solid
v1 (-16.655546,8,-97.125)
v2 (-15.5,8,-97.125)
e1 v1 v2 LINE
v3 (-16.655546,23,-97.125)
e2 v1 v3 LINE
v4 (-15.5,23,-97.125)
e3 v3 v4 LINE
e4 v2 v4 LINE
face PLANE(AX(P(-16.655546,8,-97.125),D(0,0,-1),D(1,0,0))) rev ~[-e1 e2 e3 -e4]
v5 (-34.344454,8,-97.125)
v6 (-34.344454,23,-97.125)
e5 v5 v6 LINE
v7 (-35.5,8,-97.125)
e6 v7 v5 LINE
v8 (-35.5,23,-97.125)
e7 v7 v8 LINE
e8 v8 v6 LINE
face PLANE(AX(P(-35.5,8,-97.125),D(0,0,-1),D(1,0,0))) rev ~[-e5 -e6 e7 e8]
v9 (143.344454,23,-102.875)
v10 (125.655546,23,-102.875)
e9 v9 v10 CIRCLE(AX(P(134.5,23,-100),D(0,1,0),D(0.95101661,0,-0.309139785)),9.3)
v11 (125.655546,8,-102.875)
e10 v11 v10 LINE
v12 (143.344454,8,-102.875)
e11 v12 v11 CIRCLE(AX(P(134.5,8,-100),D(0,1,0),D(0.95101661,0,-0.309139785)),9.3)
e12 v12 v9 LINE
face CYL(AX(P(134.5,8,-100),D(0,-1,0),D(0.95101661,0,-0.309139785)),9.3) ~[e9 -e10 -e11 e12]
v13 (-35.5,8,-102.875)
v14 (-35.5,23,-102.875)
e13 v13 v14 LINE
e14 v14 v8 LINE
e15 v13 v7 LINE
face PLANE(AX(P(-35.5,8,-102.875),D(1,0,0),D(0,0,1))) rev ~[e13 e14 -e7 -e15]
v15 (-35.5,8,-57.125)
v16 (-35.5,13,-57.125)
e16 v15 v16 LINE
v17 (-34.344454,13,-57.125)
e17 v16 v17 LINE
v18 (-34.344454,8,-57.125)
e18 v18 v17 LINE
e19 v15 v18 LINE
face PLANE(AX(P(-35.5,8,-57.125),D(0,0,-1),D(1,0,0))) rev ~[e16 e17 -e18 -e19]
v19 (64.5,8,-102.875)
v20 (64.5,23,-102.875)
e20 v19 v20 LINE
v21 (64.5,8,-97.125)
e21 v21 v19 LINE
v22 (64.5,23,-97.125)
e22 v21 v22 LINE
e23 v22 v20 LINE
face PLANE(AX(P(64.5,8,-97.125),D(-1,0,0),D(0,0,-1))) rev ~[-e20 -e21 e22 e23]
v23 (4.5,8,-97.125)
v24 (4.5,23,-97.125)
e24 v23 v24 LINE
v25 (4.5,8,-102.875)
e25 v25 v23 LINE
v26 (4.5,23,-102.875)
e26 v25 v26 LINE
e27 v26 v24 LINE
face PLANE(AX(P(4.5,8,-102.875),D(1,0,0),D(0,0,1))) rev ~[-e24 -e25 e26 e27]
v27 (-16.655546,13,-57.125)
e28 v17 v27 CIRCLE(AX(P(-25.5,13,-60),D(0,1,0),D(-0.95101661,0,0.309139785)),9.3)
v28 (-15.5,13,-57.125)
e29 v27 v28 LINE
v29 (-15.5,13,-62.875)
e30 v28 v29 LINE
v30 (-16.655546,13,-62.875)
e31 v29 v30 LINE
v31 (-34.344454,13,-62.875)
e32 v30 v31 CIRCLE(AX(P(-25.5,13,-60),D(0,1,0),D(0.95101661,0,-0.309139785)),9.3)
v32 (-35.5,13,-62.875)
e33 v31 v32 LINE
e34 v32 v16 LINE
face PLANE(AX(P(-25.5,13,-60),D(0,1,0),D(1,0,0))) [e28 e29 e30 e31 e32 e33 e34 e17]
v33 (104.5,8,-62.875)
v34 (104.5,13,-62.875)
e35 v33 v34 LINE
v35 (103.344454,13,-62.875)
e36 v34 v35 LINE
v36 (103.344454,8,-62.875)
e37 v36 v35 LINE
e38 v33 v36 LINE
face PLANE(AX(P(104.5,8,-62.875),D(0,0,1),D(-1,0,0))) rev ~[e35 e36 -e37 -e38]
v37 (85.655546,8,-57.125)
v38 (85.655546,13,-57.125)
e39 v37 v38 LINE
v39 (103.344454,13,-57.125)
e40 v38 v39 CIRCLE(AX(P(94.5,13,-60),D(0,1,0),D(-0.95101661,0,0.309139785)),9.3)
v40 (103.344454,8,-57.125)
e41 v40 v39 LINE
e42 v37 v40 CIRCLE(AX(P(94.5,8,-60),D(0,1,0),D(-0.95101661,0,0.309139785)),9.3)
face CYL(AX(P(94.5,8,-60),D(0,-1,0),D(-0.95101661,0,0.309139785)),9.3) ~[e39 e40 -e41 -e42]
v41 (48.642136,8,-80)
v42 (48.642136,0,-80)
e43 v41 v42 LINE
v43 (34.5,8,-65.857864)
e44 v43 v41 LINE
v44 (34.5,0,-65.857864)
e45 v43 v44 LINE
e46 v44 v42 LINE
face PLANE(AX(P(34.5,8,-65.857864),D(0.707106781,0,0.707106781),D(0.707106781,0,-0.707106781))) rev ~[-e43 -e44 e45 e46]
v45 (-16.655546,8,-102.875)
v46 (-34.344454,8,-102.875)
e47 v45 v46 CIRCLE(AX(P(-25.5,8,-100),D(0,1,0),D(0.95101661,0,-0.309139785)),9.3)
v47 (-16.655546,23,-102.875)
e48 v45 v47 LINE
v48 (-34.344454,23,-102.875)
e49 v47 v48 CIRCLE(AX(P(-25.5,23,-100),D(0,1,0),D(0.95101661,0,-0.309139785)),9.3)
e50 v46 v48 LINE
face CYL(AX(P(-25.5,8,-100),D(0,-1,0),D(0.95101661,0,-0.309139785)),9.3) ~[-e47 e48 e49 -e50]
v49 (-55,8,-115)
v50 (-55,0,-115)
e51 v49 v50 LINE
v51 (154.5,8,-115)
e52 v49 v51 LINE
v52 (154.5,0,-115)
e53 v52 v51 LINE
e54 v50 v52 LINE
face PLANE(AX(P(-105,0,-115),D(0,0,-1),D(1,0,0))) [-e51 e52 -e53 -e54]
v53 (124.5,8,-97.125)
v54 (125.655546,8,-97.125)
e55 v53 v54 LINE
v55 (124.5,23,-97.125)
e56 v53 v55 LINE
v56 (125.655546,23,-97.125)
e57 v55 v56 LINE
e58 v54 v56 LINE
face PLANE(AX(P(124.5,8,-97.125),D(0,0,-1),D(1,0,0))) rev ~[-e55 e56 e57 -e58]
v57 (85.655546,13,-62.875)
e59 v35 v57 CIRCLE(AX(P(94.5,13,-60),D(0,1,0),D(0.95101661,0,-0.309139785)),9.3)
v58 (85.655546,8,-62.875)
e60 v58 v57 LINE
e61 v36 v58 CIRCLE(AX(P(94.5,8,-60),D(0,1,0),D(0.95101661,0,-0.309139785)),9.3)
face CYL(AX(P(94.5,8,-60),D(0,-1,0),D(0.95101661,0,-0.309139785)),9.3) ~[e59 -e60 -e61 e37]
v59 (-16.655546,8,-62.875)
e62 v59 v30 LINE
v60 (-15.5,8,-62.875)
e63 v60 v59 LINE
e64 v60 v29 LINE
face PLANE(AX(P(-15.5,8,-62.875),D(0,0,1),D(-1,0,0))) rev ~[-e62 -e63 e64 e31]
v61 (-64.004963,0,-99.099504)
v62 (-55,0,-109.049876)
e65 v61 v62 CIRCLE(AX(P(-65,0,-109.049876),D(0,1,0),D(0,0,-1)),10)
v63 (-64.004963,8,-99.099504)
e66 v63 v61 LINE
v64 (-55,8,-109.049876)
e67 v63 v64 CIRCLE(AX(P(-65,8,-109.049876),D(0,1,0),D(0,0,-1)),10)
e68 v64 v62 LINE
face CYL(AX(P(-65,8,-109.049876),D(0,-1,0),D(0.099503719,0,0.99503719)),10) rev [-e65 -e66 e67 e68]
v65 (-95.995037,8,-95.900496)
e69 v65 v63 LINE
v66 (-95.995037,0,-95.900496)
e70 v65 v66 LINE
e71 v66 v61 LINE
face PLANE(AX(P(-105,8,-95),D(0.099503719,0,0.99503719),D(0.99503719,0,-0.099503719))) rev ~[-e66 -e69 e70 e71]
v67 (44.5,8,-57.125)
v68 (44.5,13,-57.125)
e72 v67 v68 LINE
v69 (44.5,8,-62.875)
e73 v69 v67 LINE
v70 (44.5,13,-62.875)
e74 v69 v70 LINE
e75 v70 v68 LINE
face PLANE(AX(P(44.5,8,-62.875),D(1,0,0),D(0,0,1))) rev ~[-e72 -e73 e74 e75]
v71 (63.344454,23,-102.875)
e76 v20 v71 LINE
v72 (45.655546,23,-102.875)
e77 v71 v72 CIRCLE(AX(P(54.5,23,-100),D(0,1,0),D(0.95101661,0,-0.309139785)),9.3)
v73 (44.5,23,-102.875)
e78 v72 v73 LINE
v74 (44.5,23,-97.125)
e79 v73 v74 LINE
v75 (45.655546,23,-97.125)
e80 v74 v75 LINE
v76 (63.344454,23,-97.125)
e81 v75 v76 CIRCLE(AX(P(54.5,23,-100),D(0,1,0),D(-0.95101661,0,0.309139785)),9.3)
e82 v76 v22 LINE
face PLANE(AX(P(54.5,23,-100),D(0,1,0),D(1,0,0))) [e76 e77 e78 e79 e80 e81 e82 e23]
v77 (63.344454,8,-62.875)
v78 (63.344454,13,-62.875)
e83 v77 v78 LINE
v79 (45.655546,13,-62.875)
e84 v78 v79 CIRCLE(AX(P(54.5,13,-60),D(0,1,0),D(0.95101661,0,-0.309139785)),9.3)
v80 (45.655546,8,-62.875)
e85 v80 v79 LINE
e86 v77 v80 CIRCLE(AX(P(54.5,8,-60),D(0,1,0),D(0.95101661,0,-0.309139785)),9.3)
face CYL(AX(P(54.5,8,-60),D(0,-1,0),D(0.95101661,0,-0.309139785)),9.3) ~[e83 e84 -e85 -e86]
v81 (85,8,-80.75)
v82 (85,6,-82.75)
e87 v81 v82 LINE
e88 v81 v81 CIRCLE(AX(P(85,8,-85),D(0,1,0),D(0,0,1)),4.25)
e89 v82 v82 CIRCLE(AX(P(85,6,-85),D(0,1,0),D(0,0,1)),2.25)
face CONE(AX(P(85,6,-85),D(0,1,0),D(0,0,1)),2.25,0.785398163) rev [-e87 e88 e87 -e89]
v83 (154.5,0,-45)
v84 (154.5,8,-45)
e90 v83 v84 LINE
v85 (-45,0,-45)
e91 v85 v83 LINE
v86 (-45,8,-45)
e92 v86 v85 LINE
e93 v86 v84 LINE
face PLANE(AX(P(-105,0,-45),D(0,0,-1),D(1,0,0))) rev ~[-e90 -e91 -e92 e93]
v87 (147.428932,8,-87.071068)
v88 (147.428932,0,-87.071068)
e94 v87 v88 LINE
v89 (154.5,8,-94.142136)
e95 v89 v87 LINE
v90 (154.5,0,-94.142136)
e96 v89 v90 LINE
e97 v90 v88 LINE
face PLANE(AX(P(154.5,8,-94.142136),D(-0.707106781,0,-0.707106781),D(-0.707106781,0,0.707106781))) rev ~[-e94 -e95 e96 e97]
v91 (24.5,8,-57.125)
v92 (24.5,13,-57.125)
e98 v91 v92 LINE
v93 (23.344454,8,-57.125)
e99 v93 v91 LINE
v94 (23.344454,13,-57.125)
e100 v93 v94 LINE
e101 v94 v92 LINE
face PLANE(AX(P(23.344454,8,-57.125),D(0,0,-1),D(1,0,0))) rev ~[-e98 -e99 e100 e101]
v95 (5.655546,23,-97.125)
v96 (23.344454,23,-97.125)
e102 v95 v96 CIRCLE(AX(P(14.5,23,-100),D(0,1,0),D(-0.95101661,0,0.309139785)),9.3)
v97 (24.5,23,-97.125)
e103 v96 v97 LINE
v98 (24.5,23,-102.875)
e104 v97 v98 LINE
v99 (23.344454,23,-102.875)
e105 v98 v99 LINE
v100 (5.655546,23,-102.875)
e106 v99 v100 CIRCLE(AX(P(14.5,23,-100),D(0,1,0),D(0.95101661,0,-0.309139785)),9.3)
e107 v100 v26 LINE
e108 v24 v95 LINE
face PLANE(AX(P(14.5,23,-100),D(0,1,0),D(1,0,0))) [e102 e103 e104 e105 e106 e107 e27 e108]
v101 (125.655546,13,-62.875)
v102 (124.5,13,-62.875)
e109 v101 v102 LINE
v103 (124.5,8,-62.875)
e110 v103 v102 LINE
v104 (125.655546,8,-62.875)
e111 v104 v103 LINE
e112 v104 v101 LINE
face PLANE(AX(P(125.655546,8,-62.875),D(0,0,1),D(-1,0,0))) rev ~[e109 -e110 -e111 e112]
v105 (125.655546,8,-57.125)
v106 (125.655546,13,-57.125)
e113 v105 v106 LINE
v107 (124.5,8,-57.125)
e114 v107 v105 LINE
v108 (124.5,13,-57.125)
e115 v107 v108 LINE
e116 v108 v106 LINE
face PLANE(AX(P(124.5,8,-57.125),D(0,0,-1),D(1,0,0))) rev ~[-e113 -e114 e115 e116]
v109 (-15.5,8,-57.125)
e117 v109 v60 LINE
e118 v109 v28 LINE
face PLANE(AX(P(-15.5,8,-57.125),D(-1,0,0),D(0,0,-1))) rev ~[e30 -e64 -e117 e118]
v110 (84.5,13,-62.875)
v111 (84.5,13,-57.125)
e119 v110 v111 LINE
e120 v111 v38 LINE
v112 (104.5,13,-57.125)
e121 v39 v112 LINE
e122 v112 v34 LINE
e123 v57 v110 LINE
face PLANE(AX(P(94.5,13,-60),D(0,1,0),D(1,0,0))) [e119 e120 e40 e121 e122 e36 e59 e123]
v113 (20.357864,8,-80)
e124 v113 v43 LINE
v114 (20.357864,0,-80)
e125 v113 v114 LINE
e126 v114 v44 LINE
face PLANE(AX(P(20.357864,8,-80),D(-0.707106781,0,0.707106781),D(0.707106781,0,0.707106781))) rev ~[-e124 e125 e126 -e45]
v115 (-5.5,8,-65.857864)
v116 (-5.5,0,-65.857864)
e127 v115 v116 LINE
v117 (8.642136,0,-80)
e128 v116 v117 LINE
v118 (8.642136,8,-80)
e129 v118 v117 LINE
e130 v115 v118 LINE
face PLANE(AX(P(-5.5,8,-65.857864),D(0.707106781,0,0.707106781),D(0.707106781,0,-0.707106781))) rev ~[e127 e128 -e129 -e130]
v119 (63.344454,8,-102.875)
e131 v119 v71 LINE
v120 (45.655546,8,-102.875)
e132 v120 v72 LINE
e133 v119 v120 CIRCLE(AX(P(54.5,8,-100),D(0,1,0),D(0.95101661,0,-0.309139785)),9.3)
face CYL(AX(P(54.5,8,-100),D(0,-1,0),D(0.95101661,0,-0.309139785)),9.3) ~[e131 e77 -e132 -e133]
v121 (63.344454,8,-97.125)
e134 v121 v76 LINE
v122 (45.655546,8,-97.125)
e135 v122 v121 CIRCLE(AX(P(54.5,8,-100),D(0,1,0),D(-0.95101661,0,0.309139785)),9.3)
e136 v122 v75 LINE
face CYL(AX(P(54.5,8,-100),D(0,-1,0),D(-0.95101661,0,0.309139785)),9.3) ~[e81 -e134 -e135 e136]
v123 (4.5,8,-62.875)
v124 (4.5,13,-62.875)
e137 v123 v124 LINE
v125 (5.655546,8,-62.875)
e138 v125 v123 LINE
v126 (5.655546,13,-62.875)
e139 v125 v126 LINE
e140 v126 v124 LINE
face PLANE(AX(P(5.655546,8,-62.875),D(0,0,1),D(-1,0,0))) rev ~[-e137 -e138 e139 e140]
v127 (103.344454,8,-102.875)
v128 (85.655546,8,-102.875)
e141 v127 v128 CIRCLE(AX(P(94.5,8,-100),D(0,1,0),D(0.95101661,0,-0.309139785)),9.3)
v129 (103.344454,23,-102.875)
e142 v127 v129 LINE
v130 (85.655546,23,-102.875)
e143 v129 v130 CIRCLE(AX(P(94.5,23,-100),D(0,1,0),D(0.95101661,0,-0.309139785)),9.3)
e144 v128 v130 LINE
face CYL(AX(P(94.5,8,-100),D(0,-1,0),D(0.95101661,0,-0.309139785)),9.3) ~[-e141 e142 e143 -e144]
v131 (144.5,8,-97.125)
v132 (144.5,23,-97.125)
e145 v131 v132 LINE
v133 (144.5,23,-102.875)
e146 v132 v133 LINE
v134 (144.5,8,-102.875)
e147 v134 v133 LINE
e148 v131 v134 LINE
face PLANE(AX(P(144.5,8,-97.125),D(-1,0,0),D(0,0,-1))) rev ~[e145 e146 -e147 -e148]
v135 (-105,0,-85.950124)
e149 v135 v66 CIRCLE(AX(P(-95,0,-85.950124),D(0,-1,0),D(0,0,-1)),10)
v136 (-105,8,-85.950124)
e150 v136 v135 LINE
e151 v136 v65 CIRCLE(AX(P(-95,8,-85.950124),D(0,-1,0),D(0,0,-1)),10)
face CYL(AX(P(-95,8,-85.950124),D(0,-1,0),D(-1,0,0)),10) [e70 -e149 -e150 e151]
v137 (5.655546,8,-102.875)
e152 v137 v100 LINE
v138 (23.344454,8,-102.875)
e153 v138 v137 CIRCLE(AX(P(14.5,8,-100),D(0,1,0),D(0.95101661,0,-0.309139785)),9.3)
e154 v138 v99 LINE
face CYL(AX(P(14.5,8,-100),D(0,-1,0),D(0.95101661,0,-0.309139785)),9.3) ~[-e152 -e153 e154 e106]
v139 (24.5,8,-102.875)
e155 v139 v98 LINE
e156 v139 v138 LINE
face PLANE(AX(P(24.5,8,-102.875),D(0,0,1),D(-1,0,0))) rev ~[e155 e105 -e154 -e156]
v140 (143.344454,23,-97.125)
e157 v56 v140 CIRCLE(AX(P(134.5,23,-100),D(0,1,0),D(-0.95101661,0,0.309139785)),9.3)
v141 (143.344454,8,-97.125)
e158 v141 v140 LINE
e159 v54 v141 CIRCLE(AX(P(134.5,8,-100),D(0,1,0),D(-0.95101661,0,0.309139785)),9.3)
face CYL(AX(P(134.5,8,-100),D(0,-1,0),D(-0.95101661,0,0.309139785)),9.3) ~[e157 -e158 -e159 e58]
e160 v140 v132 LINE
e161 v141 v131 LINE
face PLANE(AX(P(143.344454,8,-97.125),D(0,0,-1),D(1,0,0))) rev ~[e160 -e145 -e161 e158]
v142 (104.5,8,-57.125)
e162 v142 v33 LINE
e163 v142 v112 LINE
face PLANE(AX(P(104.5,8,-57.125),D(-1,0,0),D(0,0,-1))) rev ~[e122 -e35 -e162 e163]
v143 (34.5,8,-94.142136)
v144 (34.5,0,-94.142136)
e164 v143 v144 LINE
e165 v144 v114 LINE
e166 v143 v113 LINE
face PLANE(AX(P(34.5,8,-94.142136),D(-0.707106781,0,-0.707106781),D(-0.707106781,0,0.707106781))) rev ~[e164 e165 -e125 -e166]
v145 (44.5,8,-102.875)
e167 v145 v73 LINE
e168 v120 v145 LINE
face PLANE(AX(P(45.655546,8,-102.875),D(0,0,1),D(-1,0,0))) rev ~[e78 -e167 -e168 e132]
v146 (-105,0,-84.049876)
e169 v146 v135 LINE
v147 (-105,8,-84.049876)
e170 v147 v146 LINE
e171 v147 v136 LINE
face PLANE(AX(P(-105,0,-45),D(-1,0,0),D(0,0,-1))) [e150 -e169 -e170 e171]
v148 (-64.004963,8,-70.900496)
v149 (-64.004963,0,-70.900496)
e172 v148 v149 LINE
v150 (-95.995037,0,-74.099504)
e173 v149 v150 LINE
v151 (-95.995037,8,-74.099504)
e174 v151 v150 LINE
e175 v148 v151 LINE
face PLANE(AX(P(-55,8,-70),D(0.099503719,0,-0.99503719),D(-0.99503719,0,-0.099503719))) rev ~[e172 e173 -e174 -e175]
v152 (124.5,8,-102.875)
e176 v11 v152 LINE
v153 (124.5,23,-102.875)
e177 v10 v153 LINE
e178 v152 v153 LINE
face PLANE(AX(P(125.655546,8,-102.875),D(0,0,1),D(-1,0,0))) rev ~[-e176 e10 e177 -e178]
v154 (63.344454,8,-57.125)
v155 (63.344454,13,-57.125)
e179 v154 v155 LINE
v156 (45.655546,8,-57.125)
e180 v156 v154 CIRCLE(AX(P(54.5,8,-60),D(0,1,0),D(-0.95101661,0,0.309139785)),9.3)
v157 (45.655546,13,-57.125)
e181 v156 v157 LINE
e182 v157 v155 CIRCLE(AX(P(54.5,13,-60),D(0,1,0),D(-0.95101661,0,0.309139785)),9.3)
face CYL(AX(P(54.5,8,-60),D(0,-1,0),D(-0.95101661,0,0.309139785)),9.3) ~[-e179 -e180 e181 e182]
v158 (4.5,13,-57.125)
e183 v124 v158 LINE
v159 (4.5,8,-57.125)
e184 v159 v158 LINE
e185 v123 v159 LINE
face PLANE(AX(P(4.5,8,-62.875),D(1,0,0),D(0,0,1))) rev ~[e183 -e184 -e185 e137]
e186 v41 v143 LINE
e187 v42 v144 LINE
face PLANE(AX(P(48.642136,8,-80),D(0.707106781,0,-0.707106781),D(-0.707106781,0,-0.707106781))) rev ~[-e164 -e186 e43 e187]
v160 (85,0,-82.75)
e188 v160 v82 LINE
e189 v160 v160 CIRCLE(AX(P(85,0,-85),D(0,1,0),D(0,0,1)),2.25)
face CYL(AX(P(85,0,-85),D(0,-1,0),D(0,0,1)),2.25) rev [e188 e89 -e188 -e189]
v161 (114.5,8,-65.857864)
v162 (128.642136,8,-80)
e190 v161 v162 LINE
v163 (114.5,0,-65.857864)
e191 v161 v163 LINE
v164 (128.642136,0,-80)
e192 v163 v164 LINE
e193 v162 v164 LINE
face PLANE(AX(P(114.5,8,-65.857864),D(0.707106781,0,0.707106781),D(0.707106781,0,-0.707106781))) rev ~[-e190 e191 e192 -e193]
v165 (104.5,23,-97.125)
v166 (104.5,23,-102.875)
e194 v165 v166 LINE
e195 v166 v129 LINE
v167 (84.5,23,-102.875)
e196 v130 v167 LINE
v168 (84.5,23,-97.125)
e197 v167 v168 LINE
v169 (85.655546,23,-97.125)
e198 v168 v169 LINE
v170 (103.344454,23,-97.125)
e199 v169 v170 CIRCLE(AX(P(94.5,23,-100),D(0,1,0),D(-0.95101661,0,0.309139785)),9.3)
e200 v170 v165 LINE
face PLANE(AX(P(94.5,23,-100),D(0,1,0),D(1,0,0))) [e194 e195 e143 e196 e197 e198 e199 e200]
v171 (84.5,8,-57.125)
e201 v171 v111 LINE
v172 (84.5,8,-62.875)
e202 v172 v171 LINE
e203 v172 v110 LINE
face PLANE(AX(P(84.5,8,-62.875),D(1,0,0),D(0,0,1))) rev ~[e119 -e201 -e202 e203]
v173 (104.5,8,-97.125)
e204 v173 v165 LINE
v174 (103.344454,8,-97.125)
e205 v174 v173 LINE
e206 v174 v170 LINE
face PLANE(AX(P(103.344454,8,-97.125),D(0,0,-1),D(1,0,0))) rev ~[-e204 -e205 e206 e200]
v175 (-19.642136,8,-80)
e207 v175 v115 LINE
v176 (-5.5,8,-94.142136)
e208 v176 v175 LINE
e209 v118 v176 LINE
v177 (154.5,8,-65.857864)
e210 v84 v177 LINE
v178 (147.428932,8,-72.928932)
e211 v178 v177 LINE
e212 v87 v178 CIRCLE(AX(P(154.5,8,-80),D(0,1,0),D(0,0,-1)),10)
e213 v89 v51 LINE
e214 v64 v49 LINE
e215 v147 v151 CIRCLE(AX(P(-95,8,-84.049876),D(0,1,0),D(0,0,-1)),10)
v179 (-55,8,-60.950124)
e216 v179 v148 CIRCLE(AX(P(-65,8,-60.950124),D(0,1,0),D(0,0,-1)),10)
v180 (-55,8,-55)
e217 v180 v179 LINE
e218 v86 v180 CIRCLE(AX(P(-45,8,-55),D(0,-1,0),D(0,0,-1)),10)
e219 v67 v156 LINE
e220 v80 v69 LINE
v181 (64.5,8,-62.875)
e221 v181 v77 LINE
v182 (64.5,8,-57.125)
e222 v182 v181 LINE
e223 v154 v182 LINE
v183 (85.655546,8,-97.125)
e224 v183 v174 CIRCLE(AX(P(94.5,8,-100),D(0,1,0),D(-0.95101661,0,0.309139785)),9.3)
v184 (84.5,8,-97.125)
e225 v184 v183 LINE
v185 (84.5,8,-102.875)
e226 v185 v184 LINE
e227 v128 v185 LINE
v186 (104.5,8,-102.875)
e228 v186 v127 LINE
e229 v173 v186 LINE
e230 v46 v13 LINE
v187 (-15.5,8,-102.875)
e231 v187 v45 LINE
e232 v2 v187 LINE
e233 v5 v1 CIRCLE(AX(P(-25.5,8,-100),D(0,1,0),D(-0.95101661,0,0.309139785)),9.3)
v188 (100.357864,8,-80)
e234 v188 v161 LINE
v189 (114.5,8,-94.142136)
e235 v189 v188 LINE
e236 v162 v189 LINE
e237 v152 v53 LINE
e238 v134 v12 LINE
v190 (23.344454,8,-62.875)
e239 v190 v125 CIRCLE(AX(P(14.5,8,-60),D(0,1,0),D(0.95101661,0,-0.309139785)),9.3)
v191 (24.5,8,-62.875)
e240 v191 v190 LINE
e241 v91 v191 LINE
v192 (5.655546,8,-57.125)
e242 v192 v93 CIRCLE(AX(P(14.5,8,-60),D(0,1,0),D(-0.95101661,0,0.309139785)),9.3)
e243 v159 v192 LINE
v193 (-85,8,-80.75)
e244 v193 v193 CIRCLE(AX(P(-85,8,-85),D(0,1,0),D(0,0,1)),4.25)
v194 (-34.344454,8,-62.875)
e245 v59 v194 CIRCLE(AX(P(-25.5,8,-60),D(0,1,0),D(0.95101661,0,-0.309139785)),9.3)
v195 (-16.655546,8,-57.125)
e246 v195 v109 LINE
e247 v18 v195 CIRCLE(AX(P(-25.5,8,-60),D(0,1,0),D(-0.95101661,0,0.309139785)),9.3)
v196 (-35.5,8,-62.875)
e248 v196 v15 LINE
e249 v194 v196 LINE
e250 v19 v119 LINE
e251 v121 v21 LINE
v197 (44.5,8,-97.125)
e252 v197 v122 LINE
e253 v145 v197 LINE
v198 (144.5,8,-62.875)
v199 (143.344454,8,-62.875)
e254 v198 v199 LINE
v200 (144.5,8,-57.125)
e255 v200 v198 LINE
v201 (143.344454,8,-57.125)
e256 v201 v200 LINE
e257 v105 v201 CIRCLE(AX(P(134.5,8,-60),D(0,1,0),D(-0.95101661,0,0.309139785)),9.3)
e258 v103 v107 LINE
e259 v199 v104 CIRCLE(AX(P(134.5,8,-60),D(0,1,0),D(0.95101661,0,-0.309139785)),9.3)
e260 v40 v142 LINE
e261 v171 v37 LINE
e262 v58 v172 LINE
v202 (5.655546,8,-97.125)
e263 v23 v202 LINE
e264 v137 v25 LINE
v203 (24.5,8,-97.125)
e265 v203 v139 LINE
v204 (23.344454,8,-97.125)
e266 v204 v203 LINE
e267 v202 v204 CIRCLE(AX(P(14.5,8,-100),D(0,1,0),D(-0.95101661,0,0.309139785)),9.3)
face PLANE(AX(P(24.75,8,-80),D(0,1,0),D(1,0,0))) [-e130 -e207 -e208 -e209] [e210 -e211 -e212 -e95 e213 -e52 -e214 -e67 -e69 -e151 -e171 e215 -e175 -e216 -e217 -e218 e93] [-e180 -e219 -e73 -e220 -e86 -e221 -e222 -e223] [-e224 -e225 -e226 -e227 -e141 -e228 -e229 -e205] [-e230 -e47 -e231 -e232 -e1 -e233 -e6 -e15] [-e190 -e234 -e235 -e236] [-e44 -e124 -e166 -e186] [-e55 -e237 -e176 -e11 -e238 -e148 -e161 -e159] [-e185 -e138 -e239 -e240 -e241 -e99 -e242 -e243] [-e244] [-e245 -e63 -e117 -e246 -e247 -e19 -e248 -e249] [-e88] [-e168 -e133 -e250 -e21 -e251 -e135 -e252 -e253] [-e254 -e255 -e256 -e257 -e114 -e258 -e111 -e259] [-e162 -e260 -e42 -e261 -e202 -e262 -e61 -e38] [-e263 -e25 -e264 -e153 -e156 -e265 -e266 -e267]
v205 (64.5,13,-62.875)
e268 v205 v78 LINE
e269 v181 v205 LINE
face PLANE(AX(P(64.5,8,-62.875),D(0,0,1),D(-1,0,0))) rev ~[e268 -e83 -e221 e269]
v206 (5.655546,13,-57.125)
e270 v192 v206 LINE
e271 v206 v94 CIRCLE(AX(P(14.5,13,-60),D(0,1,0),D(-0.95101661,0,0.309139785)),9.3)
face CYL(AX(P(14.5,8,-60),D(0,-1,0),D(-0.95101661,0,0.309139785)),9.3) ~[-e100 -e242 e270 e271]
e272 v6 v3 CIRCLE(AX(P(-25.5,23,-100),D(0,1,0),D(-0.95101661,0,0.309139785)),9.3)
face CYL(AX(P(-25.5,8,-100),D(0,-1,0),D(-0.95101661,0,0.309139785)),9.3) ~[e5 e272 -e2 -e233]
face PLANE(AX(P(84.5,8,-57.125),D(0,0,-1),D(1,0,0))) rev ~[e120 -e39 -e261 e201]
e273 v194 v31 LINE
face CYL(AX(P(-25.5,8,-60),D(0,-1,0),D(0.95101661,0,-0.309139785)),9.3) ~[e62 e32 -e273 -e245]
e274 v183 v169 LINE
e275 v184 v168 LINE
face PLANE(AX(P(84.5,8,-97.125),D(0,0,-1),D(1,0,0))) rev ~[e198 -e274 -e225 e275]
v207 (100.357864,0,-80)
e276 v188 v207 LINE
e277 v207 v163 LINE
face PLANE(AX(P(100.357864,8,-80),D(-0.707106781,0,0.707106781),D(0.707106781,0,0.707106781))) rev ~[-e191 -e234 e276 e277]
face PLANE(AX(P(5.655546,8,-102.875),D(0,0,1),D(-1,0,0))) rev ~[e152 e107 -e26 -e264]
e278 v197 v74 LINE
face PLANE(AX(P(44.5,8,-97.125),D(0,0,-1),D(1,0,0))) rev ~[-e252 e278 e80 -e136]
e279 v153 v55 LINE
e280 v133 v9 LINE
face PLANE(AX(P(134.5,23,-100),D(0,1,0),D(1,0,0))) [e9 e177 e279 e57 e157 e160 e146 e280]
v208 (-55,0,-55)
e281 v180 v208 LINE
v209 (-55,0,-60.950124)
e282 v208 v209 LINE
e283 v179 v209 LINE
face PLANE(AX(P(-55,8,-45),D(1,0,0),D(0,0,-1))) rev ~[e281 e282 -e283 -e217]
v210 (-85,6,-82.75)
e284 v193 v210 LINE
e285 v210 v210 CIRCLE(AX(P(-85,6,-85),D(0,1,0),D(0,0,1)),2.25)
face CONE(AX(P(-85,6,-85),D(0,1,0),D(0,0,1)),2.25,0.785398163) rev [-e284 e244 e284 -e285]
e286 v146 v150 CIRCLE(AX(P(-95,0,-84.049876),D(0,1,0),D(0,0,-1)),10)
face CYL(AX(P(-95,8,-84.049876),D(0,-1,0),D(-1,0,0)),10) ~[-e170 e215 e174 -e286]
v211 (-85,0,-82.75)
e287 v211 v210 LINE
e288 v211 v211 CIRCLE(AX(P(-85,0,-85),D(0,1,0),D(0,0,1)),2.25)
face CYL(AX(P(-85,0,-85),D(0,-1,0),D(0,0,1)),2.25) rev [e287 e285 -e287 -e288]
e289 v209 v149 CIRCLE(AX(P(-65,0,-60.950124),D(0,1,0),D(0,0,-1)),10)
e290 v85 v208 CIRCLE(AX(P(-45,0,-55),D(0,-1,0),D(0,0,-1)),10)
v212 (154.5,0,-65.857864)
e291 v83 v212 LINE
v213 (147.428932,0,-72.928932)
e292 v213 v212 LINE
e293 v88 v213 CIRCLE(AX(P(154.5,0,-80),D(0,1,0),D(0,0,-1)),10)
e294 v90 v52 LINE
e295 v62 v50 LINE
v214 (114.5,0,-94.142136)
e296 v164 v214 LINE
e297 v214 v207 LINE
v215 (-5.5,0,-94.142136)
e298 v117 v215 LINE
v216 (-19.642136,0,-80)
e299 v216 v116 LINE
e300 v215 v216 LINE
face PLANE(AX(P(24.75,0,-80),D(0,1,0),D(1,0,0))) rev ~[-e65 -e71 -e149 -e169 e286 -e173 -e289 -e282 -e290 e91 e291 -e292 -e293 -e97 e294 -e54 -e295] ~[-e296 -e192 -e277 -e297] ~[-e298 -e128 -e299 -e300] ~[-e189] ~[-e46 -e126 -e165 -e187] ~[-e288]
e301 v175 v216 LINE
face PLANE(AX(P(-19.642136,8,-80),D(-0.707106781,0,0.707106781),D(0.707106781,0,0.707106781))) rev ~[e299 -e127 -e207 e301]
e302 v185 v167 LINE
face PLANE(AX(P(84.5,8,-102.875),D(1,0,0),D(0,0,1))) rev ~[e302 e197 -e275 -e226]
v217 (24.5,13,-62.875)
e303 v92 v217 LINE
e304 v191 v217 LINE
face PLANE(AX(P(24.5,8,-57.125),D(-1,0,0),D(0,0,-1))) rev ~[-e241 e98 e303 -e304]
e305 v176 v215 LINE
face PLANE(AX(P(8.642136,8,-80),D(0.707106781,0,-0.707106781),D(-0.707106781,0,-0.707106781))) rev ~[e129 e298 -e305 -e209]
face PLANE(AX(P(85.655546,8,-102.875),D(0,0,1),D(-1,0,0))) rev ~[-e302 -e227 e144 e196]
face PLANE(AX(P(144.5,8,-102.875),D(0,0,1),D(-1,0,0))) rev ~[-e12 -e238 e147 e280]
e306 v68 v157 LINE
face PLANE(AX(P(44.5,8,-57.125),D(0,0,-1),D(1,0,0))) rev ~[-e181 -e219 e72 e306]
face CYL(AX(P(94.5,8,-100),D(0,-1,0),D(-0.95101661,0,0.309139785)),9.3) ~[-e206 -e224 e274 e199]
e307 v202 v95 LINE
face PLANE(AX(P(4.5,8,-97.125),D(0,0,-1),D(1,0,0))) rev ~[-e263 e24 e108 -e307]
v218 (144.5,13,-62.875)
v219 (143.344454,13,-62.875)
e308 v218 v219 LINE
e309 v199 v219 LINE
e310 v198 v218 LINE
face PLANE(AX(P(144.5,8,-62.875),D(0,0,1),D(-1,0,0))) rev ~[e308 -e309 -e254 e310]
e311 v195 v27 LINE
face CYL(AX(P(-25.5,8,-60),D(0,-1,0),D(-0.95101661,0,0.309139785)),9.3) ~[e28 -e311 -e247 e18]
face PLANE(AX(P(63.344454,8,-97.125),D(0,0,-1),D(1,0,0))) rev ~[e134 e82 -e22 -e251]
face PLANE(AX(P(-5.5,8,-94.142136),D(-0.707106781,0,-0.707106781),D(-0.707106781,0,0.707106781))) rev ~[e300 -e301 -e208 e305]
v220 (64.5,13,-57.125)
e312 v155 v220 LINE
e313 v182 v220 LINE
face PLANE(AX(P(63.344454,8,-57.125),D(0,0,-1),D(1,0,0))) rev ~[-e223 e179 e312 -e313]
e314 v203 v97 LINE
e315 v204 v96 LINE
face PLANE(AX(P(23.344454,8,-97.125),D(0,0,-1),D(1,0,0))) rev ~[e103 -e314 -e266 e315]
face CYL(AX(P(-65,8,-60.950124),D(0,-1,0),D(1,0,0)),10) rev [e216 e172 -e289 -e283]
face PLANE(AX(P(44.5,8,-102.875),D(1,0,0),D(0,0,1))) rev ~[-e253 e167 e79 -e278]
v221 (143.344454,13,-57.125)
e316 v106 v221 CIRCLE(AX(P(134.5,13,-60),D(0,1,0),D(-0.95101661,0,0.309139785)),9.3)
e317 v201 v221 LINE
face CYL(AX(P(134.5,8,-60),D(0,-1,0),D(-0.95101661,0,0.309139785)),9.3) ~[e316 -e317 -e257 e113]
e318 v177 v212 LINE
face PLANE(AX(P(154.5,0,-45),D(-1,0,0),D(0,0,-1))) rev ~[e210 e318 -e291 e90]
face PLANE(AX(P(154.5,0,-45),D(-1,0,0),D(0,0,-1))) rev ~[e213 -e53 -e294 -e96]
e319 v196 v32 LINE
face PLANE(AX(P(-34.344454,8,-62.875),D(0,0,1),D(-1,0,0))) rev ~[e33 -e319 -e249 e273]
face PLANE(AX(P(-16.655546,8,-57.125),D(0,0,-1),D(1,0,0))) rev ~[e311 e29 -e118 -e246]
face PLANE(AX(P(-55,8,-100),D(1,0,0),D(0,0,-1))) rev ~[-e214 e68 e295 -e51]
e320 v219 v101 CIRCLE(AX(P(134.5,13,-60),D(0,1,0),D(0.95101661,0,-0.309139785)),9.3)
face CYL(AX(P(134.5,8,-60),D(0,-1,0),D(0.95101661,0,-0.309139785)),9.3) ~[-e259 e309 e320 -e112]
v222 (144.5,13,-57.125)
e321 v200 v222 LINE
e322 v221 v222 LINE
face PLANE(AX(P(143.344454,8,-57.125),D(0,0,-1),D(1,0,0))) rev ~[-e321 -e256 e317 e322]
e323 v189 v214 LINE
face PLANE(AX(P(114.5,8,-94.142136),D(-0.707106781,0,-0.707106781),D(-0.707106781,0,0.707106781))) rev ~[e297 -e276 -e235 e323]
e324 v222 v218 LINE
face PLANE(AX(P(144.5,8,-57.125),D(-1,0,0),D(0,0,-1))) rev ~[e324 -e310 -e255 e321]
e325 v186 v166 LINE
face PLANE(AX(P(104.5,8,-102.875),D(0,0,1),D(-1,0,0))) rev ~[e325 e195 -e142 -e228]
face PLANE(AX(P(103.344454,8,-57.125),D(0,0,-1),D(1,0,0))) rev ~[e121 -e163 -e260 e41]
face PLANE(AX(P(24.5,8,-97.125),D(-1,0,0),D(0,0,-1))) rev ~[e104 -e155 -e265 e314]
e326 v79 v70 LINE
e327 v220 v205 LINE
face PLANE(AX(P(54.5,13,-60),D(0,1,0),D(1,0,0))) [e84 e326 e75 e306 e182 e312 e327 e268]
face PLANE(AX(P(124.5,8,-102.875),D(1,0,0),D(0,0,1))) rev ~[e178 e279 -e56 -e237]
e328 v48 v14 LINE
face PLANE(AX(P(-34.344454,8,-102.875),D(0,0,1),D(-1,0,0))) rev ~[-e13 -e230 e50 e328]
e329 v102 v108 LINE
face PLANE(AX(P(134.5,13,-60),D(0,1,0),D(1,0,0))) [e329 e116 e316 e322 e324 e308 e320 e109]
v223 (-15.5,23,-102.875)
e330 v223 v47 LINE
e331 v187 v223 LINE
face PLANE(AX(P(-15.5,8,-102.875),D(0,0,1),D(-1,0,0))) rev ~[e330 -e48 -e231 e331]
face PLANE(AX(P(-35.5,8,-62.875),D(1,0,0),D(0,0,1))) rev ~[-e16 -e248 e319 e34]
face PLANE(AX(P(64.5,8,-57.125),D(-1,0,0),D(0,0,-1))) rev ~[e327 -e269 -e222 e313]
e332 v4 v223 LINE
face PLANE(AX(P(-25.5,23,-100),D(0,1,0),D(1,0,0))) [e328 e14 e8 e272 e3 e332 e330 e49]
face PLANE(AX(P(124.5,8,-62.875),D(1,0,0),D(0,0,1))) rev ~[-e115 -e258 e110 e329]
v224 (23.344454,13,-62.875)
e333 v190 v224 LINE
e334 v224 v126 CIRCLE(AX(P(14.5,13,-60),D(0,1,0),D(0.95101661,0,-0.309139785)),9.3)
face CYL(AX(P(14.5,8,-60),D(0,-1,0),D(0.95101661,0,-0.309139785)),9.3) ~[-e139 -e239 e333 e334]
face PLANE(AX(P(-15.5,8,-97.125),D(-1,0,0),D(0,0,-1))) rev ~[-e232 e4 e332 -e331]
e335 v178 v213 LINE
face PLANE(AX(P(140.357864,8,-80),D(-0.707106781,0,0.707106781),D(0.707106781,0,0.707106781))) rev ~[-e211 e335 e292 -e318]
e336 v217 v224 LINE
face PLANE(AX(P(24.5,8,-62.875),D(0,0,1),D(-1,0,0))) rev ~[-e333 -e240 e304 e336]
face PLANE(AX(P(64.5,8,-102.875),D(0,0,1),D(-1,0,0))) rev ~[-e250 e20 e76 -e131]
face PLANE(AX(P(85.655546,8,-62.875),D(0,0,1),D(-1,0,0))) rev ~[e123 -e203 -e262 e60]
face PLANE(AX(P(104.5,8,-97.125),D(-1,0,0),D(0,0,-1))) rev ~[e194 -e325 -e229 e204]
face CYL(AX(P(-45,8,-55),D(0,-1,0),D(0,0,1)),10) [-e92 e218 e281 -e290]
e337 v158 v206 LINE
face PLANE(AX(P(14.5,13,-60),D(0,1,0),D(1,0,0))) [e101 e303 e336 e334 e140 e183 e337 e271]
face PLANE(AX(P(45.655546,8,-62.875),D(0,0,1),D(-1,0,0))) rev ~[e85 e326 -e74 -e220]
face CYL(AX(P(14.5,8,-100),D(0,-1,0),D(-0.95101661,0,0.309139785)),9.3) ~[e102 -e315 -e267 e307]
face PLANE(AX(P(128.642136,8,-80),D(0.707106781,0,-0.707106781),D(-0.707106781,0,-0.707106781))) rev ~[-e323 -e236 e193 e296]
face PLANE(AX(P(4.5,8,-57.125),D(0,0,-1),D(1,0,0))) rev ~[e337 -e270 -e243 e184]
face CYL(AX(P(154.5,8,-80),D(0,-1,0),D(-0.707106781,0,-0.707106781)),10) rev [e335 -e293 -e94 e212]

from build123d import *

# Parameters (mm, degrees)
SKETCH1_W           = 259.5
SKETCH1_H           = 70
SKETCH1_R           = 2.25
BOSS_EXTRUDE1_DEPTH = 8
BOSS_EXTRUDE2_DEPTH = 5
BOSS_EXTRUDE3_DEPTH = 15
CHAMFER2_SIZE       = 2
CUT_EXTRUDE2_DEPTH  = 194.184497308
FILLET1_R           = 10


with BuildPart() as part:
    # Sketch1 → Boss-Extrude1 (new body)
    with BuildSketch(Plane(origin=(0, 0, 0), x_dir=(1, 0, 0), z_dir=(0, 1, 0))):
        with Locations((24.75, 80)):
            Rectangle(SKETCH1_W, SKETCH1_H)
        with Locations(Location((-85, 85, 0), (0, 0, 270))):
            Circle(SKETCH1_R, mode=Mode.SUBTRACT)
        with Locations(Location((85, 85, 0), (0, 0, 270))):
            Circle(SKETCH1_R, mode=Mode.SUBTRACT)
    extrude(amount=BOSS_EXTRUDE1_DEPTH)

    # Sketch3 → Boss-Extrude2 (add)
    with BuildSketch(Plane(origin=(0, 8, 0), x_dir=(1, 0, 0), z_dir=(0, 1, 0))):
        with BuildLine():
            Line((-15.5, 57.125), (-15.5, 62.875))
            Line((-15.5, 62.875), (-16.655545523, 62.875))
            ThreePointArc((-16.655545523, 62.875), (-25.5, 69.3), (-34.344454477, 62.875))
            Line((-34.344454477, 62.875), (-35.5, 62.875))
            Line((-35.5, 62.875), (-35.5, 57.125))
            Line((-35.5, 57.125), (-34.344454477, 57.125))
            ThreePointArc((-34.344454477, 57.125), (-25.5, 50.7), (-16.655545523, 57.125))
            Line((-16.655545523, 57.125), (-15.5, 57.125))
        make_face()
        with BuildLine():
            Line((24.5, 57.125), (24.5, 62.875))
            Line((24.5, 62.875), (23.344454477, 62.875))
            ThreePointArc((23.344454477, 62.875), (14.5, 69.3), (5.655545523, 62.875))
            Line((5.655545523, 62.875), (4.5, 62.875))
            Line((4.5, 62.875), (4.5, 57.125))
            Line((4.5, 57.125), (5.655545523, 57.125))
            ThreePointArc((5.655545523, 57.125), (14.5, 50.7), (23.344454477, 57.125))
            Line((23.344454477, 57.125), (24.5, 57.125))
        make_face()
        with BuildLine():
            Line((64.5, 57.125), (64.5, 62.875))
            Line((64.5, 62.875), (63.344454477, 62.875))
            ThreePointArc((63.344454477, 62.875), (54.5, 69.3), (45.655545523, 62.875))
            Line((45.655545523, 62.875), (44.5, 62.875))
            Line((44.5, 62.875), (44.5, 57.125))
            Line((44.5, 57.125), (45.655545523, 57.125))
            ThreePointArc((45.655545523, 57.125), (54.5, 50.7), (63.344454477, 57.125))
            Line((63.344454477, 57.125), (64.5, 57.125))
        make_face()
        with BuildLine():
            Line((104.5, 57.125), (104.5, 62.875))
            Line((104.5, 62.875), (103.344454477, 62.875))
            ThreePointArc((103.344454477, 62.875), (94.5, 69.3), (85.655545523, 62.875))
            Line((85.655545523, 62.875), (84.5, 62.875))
            Line((84.5, 62.875), (84.5, 57.125))
            Line((84.5, 57.125), (85.655545523, 57.125))
            ThreePointArc((85.655545523, 57.125), (94.5, 50.7), (103.344454477, 57.125))
            Line((103.344454477, 57.125), (104.5, 57.125))
        make_face()
        with BuildLine():
            Line((144.5, 57.125), (144.5, 62.875))
            Line((144.5, 62.875), (143.344454477, 62.875))
            ThreePointArc((143.344454477, 62.875), (134.5, 69.3), (125.655545523, 62.875))
            Line((125.655545523, 62.875), (124.5, 62.875))
            Line((124.5, 62.875), (124.5, 57.125))
            Line((124.5, 57.125), (125.655545523, 57.125))
            ThreePointArc((125.655545523, 57.125), (134.5, 50.7), (143.344454477, 57.125))
            Line((143.344454477, 57.125), (144.5, 57.125))
        make_face()
    extrude(amount=BOSS_EXTRUDE2_DEPTH)

    # Sketch3<3> → Boss-Extrude3 (add)
    with BuildSketch(Plane(origin=(0, 8, 0), x_dir=(1, 0, 0), z_dir=(0, 1, 0))):
        with BuildLine():
            Line((24.5, 97.125), (24.5, 102.875))
            Line((24.5, 102.875), (23.344454477, 102.875))
            ThreePointArc((23.344454477, 102.875), (14.5, 109.3), (5.655545523, 102.875))
            Line((5.655545523, 102.875), (4.5, 102.875))
            Line((4.5, 102.875), (4.5, 97.125))
            Line((4.5, 97.125), (5.655545523, 97.125))
            ThreePointArc((5.655545523, 97.125), (14.5, 90.7), (23.344454477, 97.125))
            Line((23.344454477, 97.125), (24.5, 97.125))
        make_face()
        with BuildLine():
            Line((64.5, 97.125), (64.5, 102.875))
            Line((64.5, 102.875), (63.344454477, 102.875))
            ThreePointArc((63.344454477, 102.875), (54.5, 109.3), (45.655545523, 102.875))
            Line((45.655545523, 102.875), (44.5, 102.875))
            Line((44.5, 102.875), (44.5, 97.125))
            Line((44.5, 97.125), (45.655545523, 97.125))
            ThreePointArc((45.655545523, 97.125), (54.5, 90.7), (63.344454477, 97.125))
            Line((63.344454477, 97.125), (64.5, 97.125))
        make_face()
        with BuildLine():
            Line((104.5, 97.125), (104.5, 102.875))
            Line((104.5, 102.875), (103.344454477, 102.875))
            ThreePointArc((103.344454477, 102.875), (94.5, 109.3), (85.655545523, 102.875))
            Line((85.655545523, 102.875), (84.5, 102.875))
            Line((84.5, 102.875), (84.5, 97.125))
            Line((84.5, 97.125), (85.655545523, 97.125))
            ThreePointArc((85.655545523, 97.125), (94.5, 90.7), (103.344454477, 97.125))
            Line((103.344454477, 97.125), (104.5, 97.125))
        make_face()
        with BuildLine():
            Line((144.5, 97.125), (144.5, 102.875))
            Line((144.5, 102.875), (143.344454477, 102.875))
            ThreePointArc((143.344454477, 102.875), (134.5, 109.3), (125.655545523, 102.875))
            Line((125.655545523, 102.875), (124.5, 102.875))
            Line((124.5, 102.875), (124.5, 97.125))
            Line((124.5, 97.125), (125.655545523, 97.125))
            ThreePointArc((125.655545523, 97.125), (134.5, 90.7), (143.344454477, 97.125))
            Line((143.344454477, 97.125), (144.5, 97.125))
        make_face()
        with BuildLine():
            Line((-15.5, 97.125), (-15.5, 102.875))
            Line((-15.5, 102.875), (-16.655545523, 102.875))
            ThreePointArc((-16.655545523, 102.875), (-25.5, 109.3), (-34.344454477, 102.875))
            Line((-34.344454477, 102.875), (-35.5, 102.875))
            Line((-35.5, 102.875), (-35.5, 97.125))
            Line((-35.5, 97.125), (-34.344454477, 97.125))
            ThreePointArc((-34.344454477, 97.125), (-25.5, 90.7), (-16.655545523, 97.125))
            Line((-16.655545523, 97.125), (-15.5, 97.125))
        make_face()
    extrude(amount=BOSS_EXTRUDE3_DEPTH)

    # Chamfer2
    chamfer2_edges = [part.edges().sort_by_distance(p)[0] for p in [
        (-85, 8, -87.25),
        (85, 8, -87.25),
    ]]
    chamfer(chamfer2_edges, length=CHAMFER2_SIZE)

    # Sketch5 → Cut-Extrude2 (cut, through all)
    with BuildSketch(Plane(origin=(0, 8, 0), x_dir=(1, 0, 0), z_dir=(0, 1, 0))):
        Polygon((-55, 70), (-105, 75), (-105, 45), (-55, 45), align=None)
        Polygon((34.5, 65.857864376), (48.642135624, 80), (34.5, 94.142135624), (20.357864376, 80), align=None)
        Polygon((-105, 115), (-105, 95), (-55, 100), (-55, 115), align=None)
        Polygon((114.5, 65.857864376), (128.642135624, 80), (114.5, 94.142135624), (100.357864376, 80), align=None)
        Polygon((154.5, 65.857864376), (168.642135624, 80), (154.5, 94.142135624), (140.357864376, 80), align=None)
        Polygon((-5.5, 65.857864376), (8.642135624, 80), (-5.5, 94.142135624), (-19.642135624, 80), align=None)
    extrude(amount=-CUT_EXTRUDE2_DEPTH, mode=Mode.SUBTRACT)

    # Fillet1
    fillet1_edges = [part.edges().sort_by_distance(p)[0] for p in [
        (140.357864376, 4, -80),
        (-55, 4, -100),
        (-105, 4, -95),
        (-105, 4, -75),
        (-55, 4, -70),
        (-55, 4, -45),
    ]]
    fillet(fillet1_edges, radius=FILLET1_R)


solid = part.part
